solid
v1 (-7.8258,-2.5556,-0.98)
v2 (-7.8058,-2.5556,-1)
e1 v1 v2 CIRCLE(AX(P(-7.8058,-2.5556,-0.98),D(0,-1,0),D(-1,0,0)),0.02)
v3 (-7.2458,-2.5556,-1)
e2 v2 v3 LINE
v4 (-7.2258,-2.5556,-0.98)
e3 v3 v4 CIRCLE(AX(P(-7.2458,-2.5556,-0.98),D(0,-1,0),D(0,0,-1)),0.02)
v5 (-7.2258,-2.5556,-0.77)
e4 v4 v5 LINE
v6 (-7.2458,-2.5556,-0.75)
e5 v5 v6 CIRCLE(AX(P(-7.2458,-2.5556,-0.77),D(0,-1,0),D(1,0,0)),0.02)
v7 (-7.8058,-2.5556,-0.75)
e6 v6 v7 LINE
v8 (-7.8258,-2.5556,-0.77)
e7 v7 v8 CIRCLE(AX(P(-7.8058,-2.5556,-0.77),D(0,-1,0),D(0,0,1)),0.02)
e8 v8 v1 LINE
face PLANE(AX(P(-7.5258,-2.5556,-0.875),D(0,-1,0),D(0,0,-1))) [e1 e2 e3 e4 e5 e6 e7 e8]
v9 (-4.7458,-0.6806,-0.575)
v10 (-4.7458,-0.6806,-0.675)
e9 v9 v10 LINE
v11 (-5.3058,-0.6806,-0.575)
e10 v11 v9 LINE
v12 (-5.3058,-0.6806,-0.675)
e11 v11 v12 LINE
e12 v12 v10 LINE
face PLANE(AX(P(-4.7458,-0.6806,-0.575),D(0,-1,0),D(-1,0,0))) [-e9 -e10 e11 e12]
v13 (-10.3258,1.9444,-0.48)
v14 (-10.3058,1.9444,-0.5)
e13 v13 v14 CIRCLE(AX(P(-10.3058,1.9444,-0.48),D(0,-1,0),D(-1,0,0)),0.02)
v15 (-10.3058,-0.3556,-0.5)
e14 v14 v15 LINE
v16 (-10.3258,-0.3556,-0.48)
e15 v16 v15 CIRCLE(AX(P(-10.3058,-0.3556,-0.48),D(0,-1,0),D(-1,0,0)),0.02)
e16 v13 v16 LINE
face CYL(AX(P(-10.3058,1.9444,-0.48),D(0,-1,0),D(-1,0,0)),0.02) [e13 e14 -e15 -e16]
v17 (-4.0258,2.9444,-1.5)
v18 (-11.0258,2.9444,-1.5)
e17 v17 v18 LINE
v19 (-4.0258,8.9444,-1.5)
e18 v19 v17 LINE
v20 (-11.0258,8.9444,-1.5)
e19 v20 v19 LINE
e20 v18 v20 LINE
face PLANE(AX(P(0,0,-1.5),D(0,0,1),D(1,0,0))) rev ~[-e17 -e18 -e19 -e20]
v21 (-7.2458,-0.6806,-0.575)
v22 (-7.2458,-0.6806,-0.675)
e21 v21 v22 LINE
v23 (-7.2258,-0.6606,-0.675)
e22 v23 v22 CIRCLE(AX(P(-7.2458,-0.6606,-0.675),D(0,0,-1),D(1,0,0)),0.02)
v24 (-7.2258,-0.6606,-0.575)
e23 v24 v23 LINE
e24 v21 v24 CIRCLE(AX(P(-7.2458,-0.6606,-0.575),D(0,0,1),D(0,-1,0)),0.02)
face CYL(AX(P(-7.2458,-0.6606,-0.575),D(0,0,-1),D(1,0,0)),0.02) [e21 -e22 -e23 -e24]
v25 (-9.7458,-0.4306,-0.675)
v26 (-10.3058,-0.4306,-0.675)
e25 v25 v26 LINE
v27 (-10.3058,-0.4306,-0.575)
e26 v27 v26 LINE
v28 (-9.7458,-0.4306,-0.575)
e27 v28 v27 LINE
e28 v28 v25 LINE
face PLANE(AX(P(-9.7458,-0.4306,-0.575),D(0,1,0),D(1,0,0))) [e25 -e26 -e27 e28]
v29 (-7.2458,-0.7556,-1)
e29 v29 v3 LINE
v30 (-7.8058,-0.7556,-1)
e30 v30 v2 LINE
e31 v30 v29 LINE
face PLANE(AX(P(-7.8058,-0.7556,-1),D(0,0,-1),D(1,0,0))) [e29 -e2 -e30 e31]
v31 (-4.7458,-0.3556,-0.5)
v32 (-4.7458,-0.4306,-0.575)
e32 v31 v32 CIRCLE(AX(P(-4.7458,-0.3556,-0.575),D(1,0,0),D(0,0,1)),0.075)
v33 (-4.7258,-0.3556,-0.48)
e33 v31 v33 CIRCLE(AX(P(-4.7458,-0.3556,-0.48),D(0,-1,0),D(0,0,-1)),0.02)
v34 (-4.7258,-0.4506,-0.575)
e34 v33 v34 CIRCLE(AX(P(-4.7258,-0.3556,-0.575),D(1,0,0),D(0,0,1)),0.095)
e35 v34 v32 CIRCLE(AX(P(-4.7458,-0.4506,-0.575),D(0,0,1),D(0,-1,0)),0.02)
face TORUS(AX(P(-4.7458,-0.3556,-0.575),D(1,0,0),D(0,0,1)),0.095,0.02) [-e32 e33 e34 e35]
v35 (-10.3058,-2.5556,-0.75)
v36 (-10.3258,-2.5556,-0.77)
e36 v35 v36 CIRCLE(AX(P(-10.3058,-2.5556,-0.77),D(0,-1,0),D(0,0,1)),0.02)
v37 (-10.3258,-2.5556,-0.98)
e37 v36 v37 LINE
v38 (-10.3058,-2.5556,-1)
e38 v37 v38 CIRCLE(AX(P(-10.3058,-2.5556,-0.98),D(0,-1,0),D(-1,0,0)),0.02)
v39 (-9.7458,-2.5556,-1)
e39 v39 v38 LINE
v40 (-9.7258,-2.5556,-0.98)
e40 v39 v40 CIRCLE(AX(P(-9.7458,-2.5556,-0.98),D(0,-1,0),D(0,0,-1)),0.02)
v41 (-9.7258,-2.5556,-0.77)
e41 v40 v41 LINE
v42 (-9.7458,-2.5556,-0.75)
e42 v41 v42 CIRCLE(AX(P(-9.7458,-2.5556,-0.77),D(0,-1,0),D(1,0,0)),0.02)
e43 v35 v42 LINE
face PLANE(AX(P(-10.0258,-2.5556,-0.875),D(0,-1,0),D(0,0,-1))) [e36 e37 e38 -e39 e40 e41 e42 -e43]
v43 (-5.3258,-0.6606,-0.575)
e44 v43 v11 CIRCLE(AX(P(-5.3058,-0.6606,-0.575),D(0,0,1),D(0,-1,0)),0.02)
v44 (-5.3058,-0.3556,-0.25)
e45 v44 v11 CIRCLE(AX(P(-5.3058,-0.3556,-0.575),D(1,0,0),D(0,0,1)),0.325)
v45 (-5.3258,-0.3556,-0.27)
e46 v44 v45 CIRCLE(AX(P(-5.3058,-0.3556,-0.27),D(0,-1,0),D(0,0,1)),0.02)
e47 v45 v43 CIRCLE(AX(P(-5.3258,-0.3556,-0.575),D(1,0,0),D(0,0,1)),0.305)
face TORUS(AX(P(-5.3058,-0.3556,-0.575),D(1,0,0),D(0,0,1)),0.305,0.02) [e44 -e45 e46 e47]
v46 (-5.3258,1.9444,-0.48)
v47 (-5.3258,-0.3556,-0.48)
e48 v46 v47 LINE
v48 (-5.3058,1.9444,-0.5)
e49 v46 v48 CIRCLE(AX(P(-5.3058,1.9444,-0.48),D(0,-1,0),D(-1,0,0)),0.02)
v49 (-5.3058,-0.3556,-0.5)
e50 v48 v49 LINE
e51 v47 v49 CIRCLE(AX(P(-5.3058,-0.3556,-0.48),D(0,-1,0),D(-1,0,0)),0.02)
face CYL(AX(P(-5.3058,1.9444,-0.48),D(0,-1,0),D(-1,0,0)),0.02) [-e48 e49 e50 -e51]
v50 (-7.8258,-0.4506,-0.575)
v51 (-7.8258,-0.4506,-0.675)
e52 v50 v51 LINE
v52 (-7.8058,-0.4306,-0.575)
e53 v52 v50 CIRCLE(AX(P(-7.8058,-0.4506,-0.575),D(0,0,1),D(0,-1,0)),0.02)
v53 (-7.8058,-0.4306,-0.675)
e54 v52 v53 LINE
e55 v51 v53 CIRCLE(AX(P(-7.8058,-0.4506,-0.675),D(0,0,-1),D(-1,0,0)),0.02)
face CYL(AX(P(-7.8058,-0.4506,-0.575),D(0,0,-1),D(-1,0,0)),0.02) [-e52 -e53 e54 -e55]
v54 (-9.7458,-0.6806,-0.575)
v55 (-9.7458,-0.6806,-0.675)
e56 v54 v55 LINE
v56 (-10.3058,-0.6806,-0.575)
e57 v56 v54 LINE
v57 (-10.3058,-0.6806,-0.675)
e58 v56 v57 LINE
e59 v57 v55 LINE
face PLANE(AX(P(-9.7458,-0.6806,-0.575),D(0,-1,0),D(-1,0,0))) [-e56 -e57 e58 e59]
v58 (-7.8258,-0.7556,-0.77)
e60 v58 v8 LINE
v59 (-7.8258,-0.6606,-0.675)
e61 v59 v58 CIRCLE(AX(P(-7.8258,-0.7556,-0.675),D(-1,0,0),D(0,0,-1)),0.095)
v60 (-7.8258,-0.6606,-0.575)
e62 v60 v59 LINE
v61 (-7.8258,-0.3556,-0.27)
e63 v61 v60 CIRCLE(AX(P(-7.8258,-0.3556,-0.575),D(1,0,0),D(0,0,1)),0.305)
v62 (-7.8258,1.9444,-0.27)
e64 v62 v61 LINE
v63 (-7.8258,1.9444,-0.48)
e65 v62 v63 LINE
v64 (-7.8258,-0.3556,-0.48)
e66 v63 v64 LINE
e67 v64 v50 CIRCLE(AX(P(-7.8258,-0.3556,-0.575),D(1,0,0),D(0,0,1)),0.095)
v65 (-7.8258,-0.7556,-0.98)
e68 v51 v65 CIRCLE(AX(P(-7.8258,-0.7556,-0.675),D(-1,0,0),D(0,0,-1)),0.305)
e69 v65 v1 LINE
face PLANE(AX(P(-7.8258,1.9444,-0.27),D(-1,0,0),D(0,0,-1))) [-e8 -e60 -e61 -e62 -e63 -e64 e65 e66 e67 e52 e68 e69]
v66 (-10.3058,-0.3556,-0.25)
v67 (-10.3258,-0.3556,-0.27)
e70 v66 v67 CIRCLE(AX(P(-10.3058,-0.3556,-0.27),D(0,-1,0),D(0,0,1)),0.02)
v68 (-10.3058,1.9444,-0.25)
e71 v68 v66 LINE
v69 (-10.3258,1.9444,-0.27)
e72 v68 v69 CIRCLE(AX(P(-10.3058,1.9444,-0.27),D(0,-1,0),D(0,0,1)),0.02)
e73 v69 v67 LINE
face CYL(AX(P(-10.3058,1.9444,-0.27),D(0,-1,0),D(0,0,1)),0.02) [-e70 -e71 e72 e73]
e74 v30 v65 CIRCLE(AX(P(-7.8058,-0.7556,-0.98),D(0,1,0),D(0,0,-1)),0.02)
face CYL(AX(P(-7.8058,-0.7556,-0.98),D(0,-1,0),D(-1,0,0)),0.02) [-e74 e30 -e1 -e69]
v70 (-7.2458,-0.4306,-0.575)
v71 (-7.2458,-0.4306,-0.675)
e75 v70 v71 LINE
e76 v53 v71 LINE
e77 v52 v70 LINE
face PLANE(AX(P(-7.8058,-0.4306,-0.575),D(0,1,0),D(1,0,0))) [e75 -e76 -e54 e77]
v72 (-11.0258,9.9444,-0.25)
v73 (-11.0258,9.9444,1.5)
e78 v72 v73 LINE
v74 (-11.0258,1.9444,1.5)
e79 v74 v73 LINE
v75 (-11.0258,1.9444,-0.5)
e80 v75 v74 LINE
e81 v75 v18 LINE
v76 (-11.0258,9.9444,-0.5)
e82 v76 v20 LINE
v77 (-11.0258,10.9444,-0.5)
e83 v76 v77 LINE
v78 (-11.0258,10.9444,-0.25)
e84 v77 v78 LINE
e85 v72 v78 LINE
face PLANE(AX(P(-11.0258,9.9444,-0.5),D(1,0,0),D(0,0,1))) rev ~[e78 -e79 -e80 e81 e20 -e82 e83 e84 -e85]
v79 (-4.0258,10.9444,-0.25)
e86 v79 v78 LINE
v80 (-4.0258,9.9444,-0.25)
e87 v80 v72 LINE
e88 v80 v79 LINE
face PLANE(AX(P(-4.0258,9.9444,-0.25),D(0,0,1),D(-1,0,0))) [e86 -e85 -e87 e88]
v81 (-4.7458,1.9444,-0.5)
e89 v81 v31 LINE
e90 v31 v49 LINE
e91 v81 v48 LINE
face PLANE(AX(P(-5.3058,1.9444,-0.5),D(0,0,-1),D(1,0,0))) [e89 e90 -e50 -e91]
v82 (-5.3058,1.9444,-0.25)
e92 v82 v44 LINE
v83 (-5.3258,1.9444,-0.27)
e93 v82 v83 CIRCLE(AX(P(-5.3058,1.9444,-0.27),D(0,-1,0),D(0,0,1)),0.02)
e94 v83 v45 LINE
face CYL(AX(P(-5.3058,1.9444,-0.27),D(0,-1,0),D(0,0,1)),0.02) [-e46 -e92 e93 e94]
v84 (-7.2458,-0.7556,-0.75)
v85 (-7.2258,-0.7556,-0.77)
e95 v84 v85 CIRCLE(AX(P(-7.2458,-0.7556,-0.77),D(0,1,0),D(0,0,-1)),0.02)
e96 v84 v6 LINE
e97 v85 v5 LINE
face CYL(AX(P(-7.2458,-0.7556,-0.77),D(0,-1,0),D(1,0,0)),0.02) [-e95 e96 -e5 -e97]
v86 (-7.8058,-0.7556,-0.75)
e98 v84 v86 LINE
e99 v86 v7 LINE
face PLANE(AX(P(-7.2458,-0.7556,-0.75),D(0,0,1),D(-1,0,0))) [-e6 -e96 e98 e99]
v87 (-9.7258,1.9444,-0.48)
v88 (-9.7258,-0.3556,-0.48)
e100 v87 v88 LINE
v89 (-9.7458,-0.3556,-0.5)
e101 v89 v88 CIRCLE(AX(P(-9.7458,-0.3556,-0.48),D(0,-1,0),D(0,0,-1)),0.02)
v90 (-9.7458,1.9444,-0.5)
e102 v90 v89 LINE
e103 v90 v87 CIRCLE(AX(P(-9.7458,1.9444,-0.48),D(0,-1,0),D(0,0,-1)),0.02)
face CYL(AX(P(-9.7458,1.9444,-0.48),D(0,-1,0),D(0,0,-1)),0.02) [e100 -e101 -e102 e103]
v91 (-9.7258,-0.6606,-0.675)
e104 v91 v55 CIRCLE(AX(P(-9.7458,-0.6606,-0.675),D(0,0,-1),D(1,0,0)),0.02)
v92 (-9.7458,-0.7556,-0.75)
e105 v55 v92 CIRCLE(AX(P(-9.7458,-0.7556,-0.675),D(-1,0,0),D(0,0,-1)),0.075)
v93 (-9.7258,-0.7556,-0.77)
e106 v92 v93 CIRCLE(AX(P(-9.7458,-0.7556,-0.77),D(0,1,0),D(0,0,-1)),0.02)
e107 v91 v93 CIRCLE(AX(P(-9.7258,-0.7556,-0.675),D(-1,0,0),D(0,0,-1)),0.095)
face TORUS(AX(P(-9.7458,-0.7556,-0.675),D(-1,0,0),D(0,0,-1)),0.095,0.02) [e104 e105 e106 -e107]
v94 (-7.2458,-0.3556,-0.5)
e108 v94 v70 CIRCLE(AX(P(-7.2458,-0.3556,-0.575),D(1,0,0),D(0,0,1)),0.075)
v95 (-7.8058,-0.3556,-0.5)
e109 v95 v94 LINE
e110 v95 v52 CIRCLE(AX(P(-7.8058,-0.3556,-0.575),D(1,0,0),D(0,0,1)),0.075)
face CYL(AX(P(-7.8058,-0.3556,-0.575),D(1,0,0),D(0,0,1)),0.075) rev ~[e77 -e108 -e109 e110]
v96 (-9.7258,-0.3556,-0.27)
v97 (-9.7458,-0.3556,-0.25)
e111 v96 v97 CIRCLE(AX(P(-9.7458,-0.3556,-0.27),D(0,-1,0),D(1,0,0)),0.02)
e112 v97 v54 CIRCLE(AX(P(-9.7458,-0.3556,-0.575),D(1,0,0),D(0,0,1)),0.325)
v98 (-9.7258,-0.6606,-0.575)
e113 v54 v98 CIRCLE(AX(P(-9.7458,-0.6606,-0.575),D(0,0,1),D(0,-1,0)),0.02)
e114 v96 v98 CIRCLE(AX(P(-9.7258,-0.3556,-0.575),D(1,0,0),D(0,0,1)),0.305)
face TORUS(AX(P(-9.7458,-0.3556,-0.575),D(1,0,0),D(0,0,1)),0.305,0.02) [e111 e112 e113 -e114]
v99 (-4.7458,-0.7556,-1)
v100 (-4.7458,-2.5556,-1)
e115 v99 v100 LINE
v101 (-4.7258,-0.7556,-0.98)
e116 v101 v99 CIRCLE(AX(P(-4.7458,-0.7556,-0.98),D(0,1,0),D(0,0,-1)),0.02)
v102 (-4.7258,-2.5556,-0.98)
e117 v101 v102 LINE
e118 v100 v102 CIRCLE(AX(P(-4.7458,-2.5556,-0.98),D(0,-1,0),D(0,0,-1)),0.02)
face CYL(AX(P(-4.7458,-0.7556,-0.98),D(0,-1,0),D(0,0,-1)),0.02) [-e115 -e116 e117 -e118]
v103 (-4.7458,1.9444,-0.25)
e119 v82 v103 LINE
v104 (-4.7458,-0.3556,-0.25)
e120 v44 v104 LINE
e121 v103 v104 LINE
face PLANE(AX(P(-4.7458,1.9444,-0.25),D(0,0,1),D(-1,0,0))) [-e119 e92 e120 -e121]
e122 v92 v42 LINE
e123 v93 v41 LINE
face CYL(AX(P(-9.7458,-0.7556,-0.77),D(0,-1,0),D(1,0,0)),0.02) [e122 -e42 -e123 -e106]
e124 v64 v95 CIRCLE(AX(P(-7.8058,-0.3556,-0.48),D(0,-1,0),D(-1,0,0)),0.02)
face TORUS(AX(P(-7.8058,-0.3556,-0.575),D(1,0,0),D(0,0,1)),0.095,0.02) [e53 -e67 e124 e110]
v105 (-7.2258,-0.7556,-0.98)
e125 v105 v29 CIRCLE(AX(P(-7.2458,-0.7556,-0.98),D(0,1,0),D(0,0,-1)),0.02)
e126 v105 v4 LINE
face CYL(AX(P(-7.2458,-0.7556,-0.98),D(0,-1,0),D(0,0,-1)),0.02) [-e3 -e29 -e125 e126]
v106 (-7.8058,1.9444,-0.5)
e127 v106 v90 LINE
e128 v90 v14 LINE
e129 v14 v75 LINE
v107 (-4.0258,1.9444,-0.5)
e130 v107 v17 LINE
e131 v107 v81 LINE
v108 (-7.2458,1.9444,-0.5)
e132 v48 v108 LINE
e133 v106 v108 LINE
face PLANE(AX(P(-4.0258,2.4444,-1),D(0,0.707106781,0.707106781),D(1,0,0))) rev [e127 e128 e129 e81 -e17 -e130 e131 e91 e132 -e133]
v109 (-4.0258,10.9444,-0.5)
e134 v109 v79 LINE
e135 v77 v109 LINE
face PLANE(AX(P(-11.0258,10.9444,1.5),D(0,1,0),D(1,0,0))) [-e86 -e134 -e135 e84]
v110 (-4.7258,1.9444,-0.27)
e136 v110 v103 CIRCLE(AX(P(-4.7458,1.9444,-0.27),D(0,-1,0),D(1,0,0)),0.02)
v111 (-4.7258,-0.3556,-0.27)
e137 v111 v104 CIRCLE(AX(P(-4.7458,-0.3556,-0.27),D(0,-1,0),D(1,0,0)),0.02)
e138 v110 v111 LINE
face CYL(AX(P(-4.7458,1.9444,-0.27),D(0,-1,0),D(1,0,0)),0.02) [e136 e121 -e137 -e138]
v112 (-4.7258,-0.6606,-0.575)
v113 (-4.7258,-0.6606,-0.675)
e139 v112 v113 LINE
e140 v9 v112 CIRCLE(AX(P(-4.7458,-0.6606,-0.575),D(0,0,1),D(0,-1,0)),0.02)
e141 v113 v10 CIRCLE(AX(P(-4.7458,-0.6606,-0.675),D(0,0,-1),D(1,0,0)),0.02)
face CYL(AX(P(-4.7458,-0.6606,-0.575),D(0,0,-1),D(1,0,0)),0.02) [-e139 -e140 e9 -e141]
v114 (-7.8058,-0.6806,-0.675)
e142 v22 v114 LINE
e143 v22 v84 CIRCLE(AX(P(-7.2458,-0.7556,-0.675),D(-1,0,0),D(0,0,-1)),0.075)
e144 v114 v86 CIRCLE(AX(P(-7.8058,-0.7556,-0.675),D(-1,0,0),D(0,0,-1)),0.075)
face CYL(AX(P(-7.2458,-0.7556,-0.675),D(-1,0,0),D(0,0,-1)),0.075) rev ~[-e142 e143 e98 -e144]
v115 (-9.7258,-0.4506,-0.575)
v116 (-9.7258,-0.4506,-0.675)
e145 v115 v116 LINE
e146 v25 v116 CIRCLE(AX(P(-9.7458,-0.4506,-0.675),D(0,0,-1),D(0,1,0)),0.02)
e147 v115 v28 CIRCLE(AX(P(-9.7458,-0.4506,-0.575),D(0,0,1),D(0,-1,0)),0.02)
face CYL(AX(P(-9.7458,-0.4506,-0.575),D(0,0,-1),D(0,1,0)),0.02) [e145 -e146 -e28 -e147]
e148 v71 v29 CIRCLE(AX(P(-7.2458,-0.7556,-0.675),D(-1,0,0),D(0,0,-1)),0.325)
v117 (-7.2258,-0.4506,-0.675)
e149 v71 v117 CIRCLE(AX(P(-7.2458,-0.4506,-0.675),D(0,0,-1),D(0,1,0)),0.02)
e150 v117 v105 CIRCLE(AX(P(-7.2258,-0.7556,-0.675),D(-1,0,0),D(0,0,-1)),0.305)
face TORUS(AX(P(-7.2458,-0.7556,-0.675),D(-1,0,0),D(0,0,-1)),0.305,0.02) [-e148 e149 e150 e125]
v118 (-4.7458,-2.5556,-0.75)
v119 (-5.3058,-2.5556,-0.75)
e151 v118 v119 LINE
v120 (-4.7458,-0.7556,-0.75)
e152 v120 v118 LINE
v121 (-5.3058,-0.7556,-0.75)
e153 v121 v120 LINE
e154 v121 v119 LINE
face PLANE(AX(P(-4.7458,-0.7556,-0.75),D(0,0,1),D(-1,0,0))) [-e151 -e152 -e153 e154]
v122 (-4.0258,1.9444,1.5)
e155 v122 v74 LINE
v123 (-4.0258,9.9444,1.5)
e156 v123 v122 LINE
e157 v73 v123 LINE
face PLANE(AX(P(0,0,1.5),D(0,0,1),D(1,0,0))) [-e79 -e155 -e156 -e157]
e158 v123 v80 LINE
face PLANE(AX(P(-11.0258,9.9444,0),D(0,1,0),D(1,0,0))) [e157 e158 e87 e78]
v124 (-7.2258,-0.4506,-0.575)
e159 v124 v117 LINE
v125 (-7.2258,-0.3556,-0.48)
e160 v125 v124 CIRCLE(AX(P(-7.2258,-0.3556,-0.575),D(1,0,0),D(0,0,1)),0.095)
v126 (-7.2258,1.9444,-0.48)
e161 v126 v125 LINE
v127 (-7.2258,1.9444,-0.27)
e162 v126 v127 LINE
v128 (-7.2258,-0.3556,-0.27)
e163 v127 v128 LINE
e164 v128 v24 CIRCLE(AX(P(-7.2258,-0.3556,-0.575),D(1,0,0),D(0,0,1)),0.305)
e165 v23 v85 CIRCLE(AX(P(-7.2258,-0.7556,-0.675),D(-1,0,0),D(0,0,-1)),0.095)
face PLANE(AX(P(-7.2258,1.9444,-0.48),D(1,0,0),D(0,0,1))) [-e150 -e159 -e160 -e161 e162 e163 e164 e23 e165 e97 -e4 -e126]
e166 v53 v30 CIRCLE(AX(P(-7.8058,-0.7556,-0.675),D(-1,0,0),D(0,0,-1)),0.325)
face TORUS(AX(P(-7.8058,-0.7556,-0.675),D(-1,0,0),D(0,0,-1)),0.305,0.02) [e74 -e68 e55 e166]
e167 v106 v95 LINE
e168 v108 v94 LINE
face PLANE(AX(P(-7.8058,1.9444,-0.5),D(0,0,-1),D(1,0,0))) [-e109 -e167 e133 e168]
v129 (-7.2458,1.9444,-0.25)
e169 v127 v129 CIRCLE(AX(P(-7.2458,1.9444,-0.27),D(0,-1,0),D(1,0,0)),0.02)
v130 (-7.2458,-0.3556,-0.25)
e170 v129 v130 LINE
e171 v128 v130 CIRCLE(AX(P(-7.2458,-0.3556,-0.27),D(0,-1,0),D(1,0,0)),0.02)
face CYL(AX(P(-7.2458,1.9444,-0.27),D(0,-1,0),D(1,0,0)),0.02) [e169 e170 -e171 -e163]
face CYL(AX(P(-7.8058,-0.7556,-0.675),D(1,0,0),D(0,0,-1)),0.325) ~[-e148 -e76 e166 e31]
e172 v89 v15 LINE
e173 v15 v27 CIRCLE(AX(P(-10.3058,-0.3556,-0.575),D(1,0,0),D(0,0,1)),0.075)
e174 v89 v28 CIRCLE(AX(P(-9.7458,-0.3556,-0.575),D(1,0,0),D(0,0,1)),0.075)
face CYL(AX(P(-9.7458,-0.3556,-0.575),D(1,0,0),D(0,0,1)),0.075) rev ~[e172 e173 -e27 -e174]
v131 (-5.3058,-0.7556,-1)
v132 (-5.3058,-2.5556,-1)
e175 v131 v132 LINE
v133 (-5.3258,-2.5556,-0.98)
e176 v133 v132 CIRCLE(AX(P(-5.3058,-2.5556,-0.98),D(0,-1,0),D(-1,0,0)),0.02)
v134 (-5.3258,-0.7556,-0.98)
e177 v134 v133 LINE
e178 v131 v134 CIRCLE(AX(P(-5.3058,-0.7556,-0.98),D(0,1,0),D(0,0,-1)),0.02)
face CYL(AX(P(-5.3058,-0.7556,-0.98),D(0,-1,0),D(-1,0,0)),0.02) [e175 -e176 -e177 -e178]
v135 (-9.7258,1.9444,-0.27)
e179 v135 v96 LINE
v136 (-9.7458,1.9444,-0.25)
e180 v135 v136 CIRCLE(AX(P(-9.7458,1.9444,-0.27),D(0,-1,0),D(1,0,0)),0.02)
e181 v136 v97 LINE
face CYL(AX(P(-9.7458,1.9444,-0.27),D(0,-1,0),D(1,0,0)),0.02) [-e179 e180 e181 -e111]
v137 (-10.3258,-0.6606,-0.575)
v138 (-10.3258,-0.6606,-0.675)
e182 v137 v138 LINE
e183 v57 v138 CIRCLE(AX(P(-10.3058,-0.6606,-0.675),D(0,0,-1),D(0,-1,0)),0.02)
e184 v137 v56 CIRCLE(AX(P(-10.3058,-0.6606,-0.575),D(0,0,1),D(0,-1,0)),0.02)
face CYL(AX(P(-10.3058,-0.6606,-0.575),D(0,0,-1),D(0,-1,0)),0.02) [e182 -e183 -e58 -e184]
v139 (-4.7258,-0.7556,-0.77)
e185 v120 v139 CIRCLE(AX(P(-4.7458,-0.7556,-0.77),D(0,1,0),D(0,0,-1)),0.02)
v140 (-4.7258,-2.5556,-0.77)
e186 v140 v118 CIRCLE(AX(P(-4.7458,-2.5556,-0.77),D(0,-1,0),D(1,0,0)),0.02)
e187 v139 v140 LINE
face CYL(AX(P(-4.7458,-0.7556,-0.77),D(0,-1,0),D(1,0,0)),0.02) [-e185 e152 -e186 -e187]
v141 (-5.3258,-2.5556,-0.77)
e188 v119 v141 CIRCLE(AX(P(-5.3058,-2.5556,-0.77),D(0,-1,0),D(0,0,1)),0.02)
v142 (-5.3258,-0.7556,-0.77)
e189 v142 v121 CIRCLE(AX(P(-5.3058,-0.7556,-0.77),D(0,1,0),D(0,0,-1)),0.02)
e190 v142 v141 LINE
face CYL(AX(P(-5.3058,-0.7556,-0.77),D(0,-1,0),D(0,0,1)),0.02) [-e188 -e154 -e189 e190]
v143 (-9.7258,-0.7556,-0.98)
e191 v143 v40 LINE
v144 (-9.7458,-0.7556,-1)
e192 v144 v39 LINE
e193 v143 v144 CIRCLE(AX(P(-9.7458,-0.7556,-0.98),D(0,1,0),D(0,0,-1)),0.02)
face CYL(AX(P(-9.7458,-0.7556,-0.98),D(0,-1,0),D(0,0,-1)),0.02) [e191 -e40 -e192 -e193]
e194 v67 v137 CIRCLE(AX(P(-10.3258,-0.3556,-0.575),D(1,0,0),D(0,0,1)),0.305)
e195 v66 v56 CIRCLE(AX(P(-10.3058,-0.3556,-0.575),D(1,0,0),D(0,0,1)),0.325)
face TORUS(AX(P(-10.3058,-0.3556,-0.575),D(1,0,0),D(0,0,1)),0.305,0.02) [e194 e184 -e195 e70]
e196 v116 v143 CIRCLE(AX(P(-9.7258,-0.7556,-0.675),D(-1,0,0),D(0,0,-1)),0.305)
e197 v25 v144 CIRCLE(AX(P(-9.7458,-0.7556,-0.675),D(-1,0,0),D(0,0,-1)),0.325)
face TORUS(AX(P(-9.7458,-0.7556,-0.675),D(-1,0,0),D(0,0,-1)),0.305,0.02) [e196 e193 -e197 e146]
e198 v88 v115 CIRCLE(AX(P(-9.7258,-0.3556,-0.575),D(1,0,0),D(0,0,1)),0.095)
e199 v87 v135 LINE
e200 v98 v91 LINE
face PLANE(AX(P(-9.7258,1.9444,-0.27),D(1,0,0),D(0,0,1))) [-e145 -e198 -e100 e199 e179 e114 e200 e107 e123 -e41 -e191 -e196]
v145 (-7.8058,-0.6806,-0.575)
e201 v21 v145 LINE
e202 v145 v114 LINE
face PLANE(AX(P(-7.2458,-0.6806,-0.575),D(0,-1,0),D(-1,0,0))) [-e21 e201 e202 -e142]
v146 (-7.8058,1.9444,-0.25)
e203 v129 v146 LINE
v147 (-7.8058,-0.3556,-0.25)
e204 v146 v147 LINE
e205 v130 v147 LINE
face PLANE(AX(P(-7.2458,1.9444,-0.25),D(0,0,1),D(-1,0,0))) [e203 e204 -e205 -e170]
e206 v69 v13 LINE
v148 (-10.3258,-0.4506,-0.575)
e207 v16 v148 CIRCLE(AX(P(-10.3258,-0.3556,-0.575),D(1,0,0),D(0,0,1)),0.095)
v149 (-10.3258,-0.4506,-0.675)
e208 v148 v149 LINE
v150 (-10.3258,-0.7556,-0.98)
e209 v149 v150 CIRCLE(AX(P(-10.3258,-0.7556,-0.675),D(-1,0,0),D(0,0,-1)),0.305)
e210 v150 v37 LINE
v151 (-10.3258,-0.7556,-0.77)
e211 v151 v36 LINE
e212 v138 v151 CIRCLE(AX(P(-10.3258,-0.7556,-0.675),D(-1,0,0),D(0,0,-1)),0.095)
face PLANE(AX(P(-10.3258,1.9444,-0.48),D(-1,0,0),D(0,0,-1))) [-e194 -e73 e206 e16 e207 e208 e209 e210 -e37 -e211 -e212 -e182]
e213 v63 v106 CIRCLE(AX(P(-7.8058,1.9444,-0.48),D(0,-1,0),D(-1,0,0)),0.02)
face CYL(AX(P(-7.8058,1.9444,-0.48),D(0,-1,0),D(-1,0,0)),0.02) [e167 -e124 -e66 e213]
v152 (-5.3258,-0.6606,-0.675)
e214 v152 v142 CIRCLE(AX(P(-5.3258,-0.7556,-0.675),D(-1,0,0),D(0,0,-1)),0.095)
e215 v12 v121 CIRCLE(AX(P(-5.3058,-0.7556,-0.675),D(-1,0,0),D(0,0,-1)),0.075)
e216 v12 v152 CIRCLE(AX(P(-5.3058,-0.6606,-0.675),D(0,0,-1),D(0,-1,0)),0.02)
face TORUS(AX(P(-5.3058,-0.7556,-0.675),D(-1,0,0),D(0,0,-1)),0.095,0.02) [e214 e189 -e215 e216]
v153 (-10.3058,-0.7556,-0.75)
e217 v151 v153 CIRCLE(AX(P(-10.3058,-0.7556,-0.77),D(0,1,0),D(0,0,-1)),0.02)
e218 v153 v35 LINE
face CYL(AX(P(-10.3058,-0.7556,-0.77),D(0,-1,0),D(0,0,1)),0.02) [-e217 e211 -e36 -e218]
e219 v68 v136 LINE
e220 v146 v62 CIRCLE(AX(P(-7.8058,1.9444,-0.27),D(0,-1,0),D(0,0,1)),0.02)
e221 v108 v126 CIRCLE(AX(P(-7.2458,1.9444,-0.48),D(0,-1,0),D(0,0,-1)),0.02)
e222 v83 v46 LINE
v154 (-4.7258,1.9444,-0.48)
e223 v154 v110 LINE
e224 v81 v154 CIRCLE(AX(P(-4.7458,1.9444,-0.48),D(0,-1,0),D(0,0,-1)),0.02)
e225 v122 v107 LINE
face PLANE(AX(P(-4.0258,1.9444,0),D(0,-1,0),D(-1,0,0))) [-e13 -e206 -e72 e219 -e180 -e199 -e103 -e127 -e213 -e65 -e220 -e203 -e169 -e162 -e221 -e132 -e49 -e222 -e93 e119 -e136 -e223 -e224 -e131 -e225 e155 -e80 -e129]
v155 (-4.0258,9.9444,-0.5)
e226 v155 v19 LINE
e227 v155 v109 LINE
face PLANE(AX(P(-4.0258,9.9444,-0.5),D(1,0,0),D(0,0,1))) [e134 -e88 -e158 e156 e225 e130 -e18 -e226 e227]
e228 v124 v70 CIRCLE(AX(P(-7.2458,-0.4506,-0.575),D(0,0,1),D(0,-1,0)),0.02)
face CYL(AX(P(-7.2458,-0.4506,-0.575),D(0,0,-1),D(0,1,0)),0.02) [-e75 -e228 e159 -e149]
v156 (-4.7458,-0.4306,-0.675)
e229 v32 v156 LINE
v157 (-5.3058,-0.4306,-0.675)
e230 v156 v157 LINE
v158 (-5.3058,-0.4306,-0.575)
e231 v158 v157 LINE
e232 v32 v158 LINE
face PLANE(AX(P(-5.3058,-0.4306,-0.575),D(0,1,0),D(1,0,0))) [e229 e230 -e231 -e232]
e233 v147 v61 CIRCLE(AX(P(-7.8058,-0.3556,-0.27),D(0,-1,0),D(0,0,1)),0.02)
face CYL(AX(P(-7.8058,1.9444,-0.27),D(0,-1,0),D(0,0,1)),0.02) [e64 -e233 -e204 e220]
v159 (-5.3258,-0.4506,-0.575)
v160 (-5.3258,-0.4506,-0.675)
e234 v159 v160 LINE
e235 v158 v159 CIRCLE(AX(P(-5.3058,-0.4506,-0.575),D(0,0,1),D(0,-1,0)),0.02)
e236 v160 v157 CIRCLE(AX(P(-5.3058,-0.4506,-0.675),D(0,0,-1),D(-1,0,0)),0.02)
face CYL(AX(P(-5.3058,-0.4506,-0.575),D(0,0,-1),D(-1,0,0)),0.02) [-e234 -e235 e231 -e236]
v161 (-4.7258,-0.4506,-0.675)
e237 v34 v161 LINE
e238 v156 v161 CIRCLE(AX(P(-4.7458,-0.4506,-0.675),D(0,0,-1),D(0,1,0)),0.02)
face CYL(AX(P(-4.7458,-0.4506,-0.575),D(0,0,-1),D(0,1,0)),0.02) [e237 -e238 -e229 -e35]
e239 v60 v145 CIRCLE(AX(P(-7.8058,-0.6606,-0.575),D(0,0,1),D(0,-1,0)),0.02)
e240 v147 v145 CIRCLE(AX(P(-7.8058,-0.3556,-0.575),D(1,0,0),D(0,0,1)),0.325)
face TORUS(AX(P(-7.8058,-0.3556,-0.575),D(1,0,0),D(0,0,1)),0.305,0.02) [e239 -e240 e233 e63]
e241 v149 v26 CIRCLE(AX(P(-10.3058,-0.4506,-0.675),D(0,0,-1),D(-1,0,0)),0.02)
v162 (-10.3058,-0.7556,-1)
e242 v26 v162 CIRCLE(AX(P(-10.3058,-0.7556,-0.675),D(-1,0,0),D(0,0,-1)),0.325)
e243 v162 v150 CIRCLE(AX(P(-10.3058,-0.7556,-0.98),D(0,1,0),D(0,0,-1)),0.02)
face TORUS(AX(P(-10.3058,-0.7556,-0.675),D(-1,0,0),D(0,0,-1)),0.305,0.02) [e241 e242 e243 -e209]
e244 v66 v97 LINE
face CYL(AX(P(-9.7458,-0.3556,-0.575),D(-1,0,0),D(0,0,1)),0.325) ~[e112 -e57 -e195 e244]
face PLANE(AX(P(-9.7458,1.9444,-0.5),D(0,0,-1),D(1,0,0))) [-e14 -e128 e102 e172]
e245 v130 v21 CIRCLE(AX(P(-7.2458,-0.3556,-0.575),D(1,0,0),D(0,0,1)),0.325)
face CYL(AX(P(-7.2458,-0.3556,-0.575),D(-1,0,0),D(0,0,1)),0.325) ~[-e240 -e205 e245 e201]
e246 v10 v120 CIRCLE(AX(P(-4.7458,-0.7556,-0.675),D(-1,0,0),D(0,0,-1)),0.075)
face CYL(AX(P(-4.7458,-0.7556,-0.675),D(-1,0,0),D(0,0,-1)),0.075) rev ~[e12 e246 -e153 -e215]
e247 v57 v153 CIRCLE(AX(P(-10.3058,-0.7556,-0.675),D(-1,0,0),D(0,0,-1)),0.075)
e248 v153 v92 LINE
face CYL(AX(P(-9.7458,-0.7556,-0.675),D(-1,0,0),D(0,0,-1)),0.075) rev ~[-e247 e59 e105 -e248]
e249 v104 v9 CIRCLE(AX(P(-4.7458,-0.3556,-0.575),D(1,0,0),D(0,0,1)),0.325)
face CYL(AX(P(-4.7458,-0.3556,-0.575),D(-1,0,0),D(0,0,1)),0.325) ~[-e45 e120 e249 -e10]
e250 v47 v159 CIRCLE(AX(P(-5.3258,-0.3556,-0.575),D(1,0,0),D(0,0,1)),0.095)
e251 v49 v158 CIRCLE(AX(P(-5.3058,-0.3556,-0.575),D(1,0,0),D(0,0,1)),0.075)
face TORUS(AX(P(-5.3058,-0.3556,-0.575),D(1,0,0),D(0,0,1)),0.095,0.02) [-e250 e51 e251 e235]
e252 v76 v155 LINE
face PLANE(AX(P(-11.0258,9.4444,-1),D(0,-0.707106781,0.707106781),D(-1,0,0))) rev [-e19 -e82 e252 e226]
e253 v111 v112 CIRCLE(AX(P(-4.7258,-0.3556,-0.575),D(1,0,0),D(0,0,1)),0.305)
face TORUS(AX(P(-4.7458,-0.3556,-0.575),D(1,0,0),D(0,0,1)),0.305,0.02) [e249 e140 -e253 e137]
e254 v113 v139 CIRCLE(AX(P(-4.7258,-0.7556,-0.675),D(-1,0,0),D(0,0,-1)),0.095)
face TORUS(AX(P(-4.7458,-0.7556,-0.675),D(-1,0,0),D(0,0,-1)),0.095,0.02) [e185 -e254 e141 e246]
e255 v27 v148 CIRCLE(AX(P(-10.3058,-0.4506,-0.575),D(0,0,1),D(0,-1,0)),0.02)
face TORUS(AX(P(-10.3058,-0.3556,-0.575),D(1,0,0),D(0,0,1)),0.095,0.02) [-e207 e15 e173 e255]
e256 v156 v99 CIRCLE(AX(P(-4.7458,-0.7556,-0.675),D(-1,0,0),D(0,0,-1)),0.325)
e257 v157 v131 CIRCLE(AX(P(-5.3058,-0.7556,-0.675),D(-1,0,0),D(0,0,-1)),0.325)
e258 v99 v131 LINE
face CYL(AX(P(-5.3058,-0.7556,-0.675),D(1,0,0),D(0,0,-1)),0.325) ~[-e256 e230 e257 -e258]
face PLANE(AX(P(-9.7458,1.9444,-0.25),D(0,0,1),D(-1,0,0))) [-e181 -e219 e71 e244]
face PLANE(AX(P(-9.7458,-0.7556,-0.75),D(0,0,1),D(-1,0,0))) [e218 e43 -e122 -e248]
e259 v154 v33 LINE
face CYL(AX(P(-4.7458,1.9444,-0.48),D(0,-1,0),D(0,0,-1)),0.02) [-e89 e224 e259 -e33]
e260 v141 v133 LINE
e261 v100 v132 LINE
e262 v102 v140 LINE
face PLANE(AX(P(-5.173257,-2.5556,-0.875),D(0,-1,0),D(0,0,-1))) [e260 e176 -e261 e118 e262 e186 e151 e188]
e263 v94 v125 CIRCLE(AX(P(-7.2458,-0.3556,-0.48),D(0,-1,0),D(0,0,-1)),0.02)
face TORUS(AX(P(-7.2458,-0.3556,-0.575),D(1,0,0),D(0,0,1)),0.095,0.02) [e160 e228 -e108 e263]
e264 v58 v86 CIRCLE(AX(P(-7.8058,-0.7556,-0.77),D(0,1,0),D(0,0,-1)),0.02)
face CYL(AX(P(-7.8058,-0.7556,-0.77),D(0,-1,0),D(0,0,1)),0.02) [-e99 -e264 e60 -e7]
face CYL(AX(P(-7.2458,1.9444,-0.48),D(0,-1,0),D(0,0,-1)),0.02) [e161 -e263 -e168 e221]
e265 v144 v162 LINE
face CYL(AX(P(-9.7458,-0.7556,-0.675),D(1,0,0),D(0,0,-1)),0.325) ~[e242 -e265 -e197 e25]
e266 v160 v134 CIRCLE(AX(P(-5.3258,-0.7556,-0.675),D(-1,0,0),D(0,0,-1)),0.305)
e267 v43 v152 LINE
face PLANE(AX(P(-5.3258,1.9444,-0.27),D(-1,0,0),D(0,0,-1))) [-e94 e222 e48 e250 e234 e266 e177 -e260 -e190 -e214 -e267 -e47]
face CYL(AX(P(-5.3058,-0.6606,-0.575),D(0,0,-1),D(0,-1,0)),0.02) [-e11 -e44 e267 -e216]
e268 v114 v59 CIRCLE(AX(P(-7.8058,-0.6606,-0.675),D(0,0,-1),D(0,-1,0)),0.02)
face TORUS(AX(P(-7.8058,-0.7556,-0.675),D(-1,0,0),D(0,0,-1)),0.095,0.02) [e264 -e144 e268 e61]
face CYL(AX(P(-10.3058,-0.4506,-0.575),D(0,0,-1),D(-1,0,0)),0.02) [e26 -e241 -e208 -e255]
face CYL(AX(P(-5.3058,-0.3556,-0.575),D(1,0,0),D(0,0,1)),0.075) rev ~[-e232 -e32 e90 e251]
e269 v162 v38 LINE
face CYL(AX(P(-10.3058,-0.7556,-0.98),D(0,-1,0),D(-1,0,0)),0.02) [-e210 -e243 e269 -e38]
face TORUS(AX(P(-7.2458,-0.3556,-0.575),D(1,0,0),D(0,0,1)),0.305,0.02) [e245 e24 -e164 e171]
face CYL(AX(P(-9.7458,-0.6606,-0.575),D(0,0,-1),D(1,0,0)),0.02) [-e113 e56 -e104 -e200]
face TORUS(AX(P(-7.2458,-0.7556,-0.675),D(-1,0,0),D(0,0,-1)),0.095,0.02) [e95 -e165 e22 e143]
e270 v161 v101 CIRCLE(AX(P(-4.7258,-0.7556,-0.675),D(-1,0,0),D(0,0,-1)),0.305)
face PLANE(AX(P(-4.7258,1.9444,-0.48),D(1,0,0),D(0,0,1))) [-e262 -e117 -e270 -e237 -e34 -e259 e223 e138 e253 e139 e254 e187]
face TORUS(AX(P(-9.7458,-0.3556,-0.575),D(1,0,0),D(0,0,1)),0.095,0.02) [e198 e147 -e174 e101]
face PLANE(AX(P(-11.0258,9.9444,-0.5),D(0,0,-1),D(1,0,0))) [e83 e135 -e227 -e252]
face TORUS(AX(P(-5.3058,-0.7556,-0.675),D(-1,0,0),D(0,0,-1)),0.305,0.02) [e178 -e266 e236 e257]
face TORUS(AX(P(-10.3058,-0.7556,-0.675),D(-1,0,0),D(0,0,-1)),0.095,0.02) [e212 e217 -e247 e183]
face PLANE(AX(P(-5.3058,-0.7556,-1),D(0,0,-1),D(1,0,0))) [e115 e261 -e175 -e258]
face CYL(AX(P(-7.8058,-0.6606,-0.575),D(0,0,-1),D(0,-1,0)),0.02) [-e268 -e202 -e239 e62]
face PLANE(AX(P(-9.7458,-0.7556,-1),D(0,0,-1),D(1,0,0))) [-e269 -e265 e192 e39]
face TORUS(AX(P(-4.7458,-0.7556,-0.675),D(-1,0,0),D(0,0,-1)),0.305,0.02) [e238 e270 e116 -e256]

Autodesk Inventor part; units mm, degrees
sketch "Sketch1" plane through (0, 0, 0) normal (0, 0, 1) x (1, 0, 0)
  line L0 (-11.0258, 9.9444) -> (-4.0258, 9.9444)
  line L1 (-4.0258, 9.9444) -> (-4.0258, 1.9444)
  line L2 (-4.0258, 1.9444) -> (-11.0258, 1.9444)
  line L3 (-11.0258, 1.9444) -> (-11.0258, 9.9444)
  point P0 (0, 0)
  dimension "d0" = 7
  dimension "d1" = 8
extrude "Extrusion1" add sketch "Sketch1" along normal mid plane 3
chamfer "Chamfer1" distance 1 angle 45 2 edges at (-7.5258, 9.9444, -1.5) (-7.5258, 1.9444, -1.5)
sketch "Sketch2" plane through (-11.0258, 1.9444, 1.5) normal (0, -1, 0) x (1, 0, 0)
  line L0 (0, 0) -> (7, 0) projected
  line L1 (1.28, -2) -> (1, -2)
  line L2 (5.72, -2) -> (6, -2)
  line L3 (3.78, -1.75) -> (3.22, -1.75)
  line L4 (3.2, -1.77) -> (3.2, -1.98)
  line L5 (3.22, -2) -> (3.78, -2)
  line L6 (3.8, -1.98) -> (3.8, -1.77)
  line L7 (6, -2) -> (6, -1.75)
  line L8 (6, -1.75) -> (6.3, -1.75)
  line L9 (1, -1.75) -> (0.72, -1.75)
  line L10 (1.3, -1.77) -> (1.3, -1.98)
  line L11 (0.7, -1.98) -> (0.7, -1.77)
  line L12 (6.28, -1.75) -> (5.72, -1.75)
  line L13 (5.7, -1.77) -> (5.7, -1.98)
  line L14 (5.7, -2) -> (6.28, -2)
  line L15 (6.3, -1.98) -> (6.3, -1.77)
  line L16 (2.1489, -1.875) -> (2.3953, -1.875)
  line L17 (1, -0.9318) -> (1, -0.5966)
  line L18 (3.5, -0.8962) -> (3.5, -0.5966)
  line L19 (6, -1.2102) -> (6, -1.0883)
  arc A0 (6.3, -1.77) -> (6.28, -1.75) centre (6.28, -1.77) ccw
  arc A1 (5.72, -1.75) -> (5.7, -1.77) centre (5.72, -1.77) ccw
  arc A2 (5.7, -1.98) -> (5.72, -2) centre (5.72, -1.98) ccw
  arc A3 (6.28, -2) -> (6.3, -1.98) centre (6.28, -1.98) ccw
  arc A4 (3.8, -1.77) -> (3.78, -1.75) centre (3.78, -1.77) ccw
  arc A5 (3.22, -1.75) -> (3.2, -1.77) centre (3.22, -1.77) ccw
  arc A6 (3.2, -1.98) -> (3.22, -2) centre (3.22, -1.98) ccw
  arc A7 (3.78, -2) -> (3.8, -1.98) centre (3.78, -1.98) ccw
  arc A8 (1.3, -1.77) -> (1.28, -1.75) centre (1.28, -1.77) ccw
  arc A9 (0.72, -1.75) -> (0.7, -1.77) centre (0.72, -1.77) ccw
  arc A10 (0.7, -1.98) -> (0.72, -2) centre (0.72, -1.98) ccw
  arc A11 (1.28, -2) -> (1.3, -1.98) centre (1.28, -1.98) ccw
  line L20 (0.72, -2) -> (1, -2)
  line L21 (1.28, -1.75) -> (1, -1.75)
  point P0 (11.0258, -1.5)
  point P1 (3.5, -2)
  point P2 (3.2, -2)
  point P3 (3.8, -2)
  point P4 (0.7, -2)
  point P5 (6.3, -2)
  dimension "d7" = 2.5
  dimension "d8" = 2.5
  dimension "d13" = 0.6
  dimension "d14" = 0.25
  dimension "d15" = 0.3
  dimension "d16" = 0.25
  dimension "d19" = 0.6
  dimension "d31" = 0.02
sketch "Sketch3" plane through (-11.0258, 9.9444, 1.5) normal (0, 1, 0) x (1, 0, 0)
  line L0 (0, 2) -> (0, 0) projected
  line L1 (7, 2) -> (7, 0) projected
  line L2 (0, 2) -> (7, 2)
  line L3 (7, 2) -> (7, 1.75)
  line L4 (7, 1.75) -> (0, 1.75)
  line L5 (0, 1.75) -> (0, 2)
  point P0 (11.0258, 1.5)
  dimension "d20" = 0.25
extrude "Extrusion2" add sketch "Sketch3" along normal blind 1
ref_plane "Work Plane1" through (-5.0258, 1.9444, 0.2898) normal (1, 0, 0) x (0, 0, 1)
ref_plane "Work Plane2" through (-7.5258, 1.9444, 0.6038) normal (1, 0, 0) x (0, 0, 1)
ref_plane "Work Plane3" through (-10.0258, 1.9444, 0.5682) normal (1, 0, 0) x (0, 0, 1)
sketch "Sketch4" plane through (-5.0258, 1.9444, 0.2898) normal (1, 0, 0) x (0, 0, 1)
  line L0 (-0.6648, 0) -> (-0.6648, 2.3)
  line L1 (-0.8648, 2.5) -> (-0.9648, 2.5)
  line L2 (-1.1648, 2.7) -> (-1.1648, 4.5)
  arc A0 (-0.6648, 2.3) -> (-0.8648, 2.5) centre (-0.8648, 2.3) ccw
  arc A1 (-1.1648, 2.7) -> (-0.9648, 2.5) centre (-0.9648, 2.7) ccw
  point P0 (-0.2898, 1.9444)
  point P1 (-0.7898, 0)
  point P2 (-0.6648, 2.5)
  point P3 (-1.1648, 2.5)
  dimension "d26" = 0.125
  dimension "d27" = 2.5
  dimension "d28" = 0.5
  dimension "d29" = 2
  dimension "d30" = 0.2
sweep "Sweep1" add profiles "Sketch2" path "Sketch4" contours A2 L13 A1 L12 L7 L2 | L7 L8 A0 L15 A3 L14
sketch "Sketch8" plane through (-7.5258, 1.9444, 0.6038) normal (1, 0, 0) x (0, 0, 1)
  line L0 (-0.9788, 0) -> (-0.9788, 2.3)
  line L1 (-1.1788, 2.5) -> (-1.2788, 2.5)
  line L2 (-1.4788, 2.7) -> (-1.4788, 4.5)
  arc A0 (-0.9788, 2.3) -> (-1.1788, 2.5) centre (-1.1788, 2.3) ccw
  arc A1 (-1.4788, 2.7) -> (-1.2788, 2.5) centre (-1.2788, 2.7) ccw
  point P0 (-0.6038, 1.9444)
  point P1 (-1.1038, 0)
  point P2 (-0.9788, 2.5)
  point P3 (-1.4788, 2.5)
  dimension "d55" = 0.125
  dimension "d56" = 2.5
  dimension "d57" = 0.5
  dimension "d58" = 2
  dimension "d59" = 0.2
sweep "Sweep2" add profiles "Sketch2" path "Sketch8" contours A4 L6 A7 L5 A6 L4 A5 L3
sketch "Sketch9" plane through (-10.0258, 1.9444, 0.5682) normal (1, 0, 0) x (0, 0, 1)
  line L0 (-0.9432, 0) -> (-0.9432, 2.3)
  line L1 (-1.1432, 2.5) -> (-1.2432, 2.5)
  line L2 (-1.4432, 2.7) -> (-1.4432, 4.5)
  arc A0 (-0.9432, 2.3) -> (-1.1432, 2.5) centre (-1.1432, 2.3) ccw
  arc A1 (-1.4432, 2.7) -> (-1.2432, 2.5) centre (-1.2432, 2.7) ccw
  point P0 (-0.5682, 1.9444)
  point P1 (-1.0682, 0)
  point P2 (-0.9432, 2.5)
  point P3 (-1.4432, 2.5)
  dimension "d62" = 0.125
  dimension "d63" = 2.5
  dimension "d64" = 0.5
  dimension "d65" = 2
  dimension "d66" = 0.2
sweep "Sweep3" add profiles "Sketch2" path "Sketch9" contours L1 L20 A10 L11 A9 L9 L21 A8 L10 A11
sketch "Sketch10" plane through (0, 0, -1.5) normal (0, 0, -1) x (-1, 0, 0)
  line L0 (3.9497, 6.7299) -> (11.068, 6.7299) construction
  line L1 (11.068, 6.7299) -> (11.068, 5.1619) construction
  line L2 (11.068, 5.1619) -> (3.9497, 5.1619) construction
  line L3 (3.9497, 5.1619) -> (3.9497, 6.7299) construction
  point P0 (0, 0)
equation "\"BendRadius\" = Thickness"
equation "\"BendReliefWidth\" = Thickness"
equation "\"BendReliefDepth\" = 0.5 * Thickness"
equation "\"CornerReliefSize\" = 4 * Thickness"
equation "\"MinimumRemnant\" = 2 * Thickness"
equation "\"TransitionRadius\" = BendRadius"
equation "\"JacobiRadiusSize\" = BendRadius"
equation "\"GapSize\" = Thickness"
equation "\"Thickness\" = 3.048"
properties part number "LM7805"
